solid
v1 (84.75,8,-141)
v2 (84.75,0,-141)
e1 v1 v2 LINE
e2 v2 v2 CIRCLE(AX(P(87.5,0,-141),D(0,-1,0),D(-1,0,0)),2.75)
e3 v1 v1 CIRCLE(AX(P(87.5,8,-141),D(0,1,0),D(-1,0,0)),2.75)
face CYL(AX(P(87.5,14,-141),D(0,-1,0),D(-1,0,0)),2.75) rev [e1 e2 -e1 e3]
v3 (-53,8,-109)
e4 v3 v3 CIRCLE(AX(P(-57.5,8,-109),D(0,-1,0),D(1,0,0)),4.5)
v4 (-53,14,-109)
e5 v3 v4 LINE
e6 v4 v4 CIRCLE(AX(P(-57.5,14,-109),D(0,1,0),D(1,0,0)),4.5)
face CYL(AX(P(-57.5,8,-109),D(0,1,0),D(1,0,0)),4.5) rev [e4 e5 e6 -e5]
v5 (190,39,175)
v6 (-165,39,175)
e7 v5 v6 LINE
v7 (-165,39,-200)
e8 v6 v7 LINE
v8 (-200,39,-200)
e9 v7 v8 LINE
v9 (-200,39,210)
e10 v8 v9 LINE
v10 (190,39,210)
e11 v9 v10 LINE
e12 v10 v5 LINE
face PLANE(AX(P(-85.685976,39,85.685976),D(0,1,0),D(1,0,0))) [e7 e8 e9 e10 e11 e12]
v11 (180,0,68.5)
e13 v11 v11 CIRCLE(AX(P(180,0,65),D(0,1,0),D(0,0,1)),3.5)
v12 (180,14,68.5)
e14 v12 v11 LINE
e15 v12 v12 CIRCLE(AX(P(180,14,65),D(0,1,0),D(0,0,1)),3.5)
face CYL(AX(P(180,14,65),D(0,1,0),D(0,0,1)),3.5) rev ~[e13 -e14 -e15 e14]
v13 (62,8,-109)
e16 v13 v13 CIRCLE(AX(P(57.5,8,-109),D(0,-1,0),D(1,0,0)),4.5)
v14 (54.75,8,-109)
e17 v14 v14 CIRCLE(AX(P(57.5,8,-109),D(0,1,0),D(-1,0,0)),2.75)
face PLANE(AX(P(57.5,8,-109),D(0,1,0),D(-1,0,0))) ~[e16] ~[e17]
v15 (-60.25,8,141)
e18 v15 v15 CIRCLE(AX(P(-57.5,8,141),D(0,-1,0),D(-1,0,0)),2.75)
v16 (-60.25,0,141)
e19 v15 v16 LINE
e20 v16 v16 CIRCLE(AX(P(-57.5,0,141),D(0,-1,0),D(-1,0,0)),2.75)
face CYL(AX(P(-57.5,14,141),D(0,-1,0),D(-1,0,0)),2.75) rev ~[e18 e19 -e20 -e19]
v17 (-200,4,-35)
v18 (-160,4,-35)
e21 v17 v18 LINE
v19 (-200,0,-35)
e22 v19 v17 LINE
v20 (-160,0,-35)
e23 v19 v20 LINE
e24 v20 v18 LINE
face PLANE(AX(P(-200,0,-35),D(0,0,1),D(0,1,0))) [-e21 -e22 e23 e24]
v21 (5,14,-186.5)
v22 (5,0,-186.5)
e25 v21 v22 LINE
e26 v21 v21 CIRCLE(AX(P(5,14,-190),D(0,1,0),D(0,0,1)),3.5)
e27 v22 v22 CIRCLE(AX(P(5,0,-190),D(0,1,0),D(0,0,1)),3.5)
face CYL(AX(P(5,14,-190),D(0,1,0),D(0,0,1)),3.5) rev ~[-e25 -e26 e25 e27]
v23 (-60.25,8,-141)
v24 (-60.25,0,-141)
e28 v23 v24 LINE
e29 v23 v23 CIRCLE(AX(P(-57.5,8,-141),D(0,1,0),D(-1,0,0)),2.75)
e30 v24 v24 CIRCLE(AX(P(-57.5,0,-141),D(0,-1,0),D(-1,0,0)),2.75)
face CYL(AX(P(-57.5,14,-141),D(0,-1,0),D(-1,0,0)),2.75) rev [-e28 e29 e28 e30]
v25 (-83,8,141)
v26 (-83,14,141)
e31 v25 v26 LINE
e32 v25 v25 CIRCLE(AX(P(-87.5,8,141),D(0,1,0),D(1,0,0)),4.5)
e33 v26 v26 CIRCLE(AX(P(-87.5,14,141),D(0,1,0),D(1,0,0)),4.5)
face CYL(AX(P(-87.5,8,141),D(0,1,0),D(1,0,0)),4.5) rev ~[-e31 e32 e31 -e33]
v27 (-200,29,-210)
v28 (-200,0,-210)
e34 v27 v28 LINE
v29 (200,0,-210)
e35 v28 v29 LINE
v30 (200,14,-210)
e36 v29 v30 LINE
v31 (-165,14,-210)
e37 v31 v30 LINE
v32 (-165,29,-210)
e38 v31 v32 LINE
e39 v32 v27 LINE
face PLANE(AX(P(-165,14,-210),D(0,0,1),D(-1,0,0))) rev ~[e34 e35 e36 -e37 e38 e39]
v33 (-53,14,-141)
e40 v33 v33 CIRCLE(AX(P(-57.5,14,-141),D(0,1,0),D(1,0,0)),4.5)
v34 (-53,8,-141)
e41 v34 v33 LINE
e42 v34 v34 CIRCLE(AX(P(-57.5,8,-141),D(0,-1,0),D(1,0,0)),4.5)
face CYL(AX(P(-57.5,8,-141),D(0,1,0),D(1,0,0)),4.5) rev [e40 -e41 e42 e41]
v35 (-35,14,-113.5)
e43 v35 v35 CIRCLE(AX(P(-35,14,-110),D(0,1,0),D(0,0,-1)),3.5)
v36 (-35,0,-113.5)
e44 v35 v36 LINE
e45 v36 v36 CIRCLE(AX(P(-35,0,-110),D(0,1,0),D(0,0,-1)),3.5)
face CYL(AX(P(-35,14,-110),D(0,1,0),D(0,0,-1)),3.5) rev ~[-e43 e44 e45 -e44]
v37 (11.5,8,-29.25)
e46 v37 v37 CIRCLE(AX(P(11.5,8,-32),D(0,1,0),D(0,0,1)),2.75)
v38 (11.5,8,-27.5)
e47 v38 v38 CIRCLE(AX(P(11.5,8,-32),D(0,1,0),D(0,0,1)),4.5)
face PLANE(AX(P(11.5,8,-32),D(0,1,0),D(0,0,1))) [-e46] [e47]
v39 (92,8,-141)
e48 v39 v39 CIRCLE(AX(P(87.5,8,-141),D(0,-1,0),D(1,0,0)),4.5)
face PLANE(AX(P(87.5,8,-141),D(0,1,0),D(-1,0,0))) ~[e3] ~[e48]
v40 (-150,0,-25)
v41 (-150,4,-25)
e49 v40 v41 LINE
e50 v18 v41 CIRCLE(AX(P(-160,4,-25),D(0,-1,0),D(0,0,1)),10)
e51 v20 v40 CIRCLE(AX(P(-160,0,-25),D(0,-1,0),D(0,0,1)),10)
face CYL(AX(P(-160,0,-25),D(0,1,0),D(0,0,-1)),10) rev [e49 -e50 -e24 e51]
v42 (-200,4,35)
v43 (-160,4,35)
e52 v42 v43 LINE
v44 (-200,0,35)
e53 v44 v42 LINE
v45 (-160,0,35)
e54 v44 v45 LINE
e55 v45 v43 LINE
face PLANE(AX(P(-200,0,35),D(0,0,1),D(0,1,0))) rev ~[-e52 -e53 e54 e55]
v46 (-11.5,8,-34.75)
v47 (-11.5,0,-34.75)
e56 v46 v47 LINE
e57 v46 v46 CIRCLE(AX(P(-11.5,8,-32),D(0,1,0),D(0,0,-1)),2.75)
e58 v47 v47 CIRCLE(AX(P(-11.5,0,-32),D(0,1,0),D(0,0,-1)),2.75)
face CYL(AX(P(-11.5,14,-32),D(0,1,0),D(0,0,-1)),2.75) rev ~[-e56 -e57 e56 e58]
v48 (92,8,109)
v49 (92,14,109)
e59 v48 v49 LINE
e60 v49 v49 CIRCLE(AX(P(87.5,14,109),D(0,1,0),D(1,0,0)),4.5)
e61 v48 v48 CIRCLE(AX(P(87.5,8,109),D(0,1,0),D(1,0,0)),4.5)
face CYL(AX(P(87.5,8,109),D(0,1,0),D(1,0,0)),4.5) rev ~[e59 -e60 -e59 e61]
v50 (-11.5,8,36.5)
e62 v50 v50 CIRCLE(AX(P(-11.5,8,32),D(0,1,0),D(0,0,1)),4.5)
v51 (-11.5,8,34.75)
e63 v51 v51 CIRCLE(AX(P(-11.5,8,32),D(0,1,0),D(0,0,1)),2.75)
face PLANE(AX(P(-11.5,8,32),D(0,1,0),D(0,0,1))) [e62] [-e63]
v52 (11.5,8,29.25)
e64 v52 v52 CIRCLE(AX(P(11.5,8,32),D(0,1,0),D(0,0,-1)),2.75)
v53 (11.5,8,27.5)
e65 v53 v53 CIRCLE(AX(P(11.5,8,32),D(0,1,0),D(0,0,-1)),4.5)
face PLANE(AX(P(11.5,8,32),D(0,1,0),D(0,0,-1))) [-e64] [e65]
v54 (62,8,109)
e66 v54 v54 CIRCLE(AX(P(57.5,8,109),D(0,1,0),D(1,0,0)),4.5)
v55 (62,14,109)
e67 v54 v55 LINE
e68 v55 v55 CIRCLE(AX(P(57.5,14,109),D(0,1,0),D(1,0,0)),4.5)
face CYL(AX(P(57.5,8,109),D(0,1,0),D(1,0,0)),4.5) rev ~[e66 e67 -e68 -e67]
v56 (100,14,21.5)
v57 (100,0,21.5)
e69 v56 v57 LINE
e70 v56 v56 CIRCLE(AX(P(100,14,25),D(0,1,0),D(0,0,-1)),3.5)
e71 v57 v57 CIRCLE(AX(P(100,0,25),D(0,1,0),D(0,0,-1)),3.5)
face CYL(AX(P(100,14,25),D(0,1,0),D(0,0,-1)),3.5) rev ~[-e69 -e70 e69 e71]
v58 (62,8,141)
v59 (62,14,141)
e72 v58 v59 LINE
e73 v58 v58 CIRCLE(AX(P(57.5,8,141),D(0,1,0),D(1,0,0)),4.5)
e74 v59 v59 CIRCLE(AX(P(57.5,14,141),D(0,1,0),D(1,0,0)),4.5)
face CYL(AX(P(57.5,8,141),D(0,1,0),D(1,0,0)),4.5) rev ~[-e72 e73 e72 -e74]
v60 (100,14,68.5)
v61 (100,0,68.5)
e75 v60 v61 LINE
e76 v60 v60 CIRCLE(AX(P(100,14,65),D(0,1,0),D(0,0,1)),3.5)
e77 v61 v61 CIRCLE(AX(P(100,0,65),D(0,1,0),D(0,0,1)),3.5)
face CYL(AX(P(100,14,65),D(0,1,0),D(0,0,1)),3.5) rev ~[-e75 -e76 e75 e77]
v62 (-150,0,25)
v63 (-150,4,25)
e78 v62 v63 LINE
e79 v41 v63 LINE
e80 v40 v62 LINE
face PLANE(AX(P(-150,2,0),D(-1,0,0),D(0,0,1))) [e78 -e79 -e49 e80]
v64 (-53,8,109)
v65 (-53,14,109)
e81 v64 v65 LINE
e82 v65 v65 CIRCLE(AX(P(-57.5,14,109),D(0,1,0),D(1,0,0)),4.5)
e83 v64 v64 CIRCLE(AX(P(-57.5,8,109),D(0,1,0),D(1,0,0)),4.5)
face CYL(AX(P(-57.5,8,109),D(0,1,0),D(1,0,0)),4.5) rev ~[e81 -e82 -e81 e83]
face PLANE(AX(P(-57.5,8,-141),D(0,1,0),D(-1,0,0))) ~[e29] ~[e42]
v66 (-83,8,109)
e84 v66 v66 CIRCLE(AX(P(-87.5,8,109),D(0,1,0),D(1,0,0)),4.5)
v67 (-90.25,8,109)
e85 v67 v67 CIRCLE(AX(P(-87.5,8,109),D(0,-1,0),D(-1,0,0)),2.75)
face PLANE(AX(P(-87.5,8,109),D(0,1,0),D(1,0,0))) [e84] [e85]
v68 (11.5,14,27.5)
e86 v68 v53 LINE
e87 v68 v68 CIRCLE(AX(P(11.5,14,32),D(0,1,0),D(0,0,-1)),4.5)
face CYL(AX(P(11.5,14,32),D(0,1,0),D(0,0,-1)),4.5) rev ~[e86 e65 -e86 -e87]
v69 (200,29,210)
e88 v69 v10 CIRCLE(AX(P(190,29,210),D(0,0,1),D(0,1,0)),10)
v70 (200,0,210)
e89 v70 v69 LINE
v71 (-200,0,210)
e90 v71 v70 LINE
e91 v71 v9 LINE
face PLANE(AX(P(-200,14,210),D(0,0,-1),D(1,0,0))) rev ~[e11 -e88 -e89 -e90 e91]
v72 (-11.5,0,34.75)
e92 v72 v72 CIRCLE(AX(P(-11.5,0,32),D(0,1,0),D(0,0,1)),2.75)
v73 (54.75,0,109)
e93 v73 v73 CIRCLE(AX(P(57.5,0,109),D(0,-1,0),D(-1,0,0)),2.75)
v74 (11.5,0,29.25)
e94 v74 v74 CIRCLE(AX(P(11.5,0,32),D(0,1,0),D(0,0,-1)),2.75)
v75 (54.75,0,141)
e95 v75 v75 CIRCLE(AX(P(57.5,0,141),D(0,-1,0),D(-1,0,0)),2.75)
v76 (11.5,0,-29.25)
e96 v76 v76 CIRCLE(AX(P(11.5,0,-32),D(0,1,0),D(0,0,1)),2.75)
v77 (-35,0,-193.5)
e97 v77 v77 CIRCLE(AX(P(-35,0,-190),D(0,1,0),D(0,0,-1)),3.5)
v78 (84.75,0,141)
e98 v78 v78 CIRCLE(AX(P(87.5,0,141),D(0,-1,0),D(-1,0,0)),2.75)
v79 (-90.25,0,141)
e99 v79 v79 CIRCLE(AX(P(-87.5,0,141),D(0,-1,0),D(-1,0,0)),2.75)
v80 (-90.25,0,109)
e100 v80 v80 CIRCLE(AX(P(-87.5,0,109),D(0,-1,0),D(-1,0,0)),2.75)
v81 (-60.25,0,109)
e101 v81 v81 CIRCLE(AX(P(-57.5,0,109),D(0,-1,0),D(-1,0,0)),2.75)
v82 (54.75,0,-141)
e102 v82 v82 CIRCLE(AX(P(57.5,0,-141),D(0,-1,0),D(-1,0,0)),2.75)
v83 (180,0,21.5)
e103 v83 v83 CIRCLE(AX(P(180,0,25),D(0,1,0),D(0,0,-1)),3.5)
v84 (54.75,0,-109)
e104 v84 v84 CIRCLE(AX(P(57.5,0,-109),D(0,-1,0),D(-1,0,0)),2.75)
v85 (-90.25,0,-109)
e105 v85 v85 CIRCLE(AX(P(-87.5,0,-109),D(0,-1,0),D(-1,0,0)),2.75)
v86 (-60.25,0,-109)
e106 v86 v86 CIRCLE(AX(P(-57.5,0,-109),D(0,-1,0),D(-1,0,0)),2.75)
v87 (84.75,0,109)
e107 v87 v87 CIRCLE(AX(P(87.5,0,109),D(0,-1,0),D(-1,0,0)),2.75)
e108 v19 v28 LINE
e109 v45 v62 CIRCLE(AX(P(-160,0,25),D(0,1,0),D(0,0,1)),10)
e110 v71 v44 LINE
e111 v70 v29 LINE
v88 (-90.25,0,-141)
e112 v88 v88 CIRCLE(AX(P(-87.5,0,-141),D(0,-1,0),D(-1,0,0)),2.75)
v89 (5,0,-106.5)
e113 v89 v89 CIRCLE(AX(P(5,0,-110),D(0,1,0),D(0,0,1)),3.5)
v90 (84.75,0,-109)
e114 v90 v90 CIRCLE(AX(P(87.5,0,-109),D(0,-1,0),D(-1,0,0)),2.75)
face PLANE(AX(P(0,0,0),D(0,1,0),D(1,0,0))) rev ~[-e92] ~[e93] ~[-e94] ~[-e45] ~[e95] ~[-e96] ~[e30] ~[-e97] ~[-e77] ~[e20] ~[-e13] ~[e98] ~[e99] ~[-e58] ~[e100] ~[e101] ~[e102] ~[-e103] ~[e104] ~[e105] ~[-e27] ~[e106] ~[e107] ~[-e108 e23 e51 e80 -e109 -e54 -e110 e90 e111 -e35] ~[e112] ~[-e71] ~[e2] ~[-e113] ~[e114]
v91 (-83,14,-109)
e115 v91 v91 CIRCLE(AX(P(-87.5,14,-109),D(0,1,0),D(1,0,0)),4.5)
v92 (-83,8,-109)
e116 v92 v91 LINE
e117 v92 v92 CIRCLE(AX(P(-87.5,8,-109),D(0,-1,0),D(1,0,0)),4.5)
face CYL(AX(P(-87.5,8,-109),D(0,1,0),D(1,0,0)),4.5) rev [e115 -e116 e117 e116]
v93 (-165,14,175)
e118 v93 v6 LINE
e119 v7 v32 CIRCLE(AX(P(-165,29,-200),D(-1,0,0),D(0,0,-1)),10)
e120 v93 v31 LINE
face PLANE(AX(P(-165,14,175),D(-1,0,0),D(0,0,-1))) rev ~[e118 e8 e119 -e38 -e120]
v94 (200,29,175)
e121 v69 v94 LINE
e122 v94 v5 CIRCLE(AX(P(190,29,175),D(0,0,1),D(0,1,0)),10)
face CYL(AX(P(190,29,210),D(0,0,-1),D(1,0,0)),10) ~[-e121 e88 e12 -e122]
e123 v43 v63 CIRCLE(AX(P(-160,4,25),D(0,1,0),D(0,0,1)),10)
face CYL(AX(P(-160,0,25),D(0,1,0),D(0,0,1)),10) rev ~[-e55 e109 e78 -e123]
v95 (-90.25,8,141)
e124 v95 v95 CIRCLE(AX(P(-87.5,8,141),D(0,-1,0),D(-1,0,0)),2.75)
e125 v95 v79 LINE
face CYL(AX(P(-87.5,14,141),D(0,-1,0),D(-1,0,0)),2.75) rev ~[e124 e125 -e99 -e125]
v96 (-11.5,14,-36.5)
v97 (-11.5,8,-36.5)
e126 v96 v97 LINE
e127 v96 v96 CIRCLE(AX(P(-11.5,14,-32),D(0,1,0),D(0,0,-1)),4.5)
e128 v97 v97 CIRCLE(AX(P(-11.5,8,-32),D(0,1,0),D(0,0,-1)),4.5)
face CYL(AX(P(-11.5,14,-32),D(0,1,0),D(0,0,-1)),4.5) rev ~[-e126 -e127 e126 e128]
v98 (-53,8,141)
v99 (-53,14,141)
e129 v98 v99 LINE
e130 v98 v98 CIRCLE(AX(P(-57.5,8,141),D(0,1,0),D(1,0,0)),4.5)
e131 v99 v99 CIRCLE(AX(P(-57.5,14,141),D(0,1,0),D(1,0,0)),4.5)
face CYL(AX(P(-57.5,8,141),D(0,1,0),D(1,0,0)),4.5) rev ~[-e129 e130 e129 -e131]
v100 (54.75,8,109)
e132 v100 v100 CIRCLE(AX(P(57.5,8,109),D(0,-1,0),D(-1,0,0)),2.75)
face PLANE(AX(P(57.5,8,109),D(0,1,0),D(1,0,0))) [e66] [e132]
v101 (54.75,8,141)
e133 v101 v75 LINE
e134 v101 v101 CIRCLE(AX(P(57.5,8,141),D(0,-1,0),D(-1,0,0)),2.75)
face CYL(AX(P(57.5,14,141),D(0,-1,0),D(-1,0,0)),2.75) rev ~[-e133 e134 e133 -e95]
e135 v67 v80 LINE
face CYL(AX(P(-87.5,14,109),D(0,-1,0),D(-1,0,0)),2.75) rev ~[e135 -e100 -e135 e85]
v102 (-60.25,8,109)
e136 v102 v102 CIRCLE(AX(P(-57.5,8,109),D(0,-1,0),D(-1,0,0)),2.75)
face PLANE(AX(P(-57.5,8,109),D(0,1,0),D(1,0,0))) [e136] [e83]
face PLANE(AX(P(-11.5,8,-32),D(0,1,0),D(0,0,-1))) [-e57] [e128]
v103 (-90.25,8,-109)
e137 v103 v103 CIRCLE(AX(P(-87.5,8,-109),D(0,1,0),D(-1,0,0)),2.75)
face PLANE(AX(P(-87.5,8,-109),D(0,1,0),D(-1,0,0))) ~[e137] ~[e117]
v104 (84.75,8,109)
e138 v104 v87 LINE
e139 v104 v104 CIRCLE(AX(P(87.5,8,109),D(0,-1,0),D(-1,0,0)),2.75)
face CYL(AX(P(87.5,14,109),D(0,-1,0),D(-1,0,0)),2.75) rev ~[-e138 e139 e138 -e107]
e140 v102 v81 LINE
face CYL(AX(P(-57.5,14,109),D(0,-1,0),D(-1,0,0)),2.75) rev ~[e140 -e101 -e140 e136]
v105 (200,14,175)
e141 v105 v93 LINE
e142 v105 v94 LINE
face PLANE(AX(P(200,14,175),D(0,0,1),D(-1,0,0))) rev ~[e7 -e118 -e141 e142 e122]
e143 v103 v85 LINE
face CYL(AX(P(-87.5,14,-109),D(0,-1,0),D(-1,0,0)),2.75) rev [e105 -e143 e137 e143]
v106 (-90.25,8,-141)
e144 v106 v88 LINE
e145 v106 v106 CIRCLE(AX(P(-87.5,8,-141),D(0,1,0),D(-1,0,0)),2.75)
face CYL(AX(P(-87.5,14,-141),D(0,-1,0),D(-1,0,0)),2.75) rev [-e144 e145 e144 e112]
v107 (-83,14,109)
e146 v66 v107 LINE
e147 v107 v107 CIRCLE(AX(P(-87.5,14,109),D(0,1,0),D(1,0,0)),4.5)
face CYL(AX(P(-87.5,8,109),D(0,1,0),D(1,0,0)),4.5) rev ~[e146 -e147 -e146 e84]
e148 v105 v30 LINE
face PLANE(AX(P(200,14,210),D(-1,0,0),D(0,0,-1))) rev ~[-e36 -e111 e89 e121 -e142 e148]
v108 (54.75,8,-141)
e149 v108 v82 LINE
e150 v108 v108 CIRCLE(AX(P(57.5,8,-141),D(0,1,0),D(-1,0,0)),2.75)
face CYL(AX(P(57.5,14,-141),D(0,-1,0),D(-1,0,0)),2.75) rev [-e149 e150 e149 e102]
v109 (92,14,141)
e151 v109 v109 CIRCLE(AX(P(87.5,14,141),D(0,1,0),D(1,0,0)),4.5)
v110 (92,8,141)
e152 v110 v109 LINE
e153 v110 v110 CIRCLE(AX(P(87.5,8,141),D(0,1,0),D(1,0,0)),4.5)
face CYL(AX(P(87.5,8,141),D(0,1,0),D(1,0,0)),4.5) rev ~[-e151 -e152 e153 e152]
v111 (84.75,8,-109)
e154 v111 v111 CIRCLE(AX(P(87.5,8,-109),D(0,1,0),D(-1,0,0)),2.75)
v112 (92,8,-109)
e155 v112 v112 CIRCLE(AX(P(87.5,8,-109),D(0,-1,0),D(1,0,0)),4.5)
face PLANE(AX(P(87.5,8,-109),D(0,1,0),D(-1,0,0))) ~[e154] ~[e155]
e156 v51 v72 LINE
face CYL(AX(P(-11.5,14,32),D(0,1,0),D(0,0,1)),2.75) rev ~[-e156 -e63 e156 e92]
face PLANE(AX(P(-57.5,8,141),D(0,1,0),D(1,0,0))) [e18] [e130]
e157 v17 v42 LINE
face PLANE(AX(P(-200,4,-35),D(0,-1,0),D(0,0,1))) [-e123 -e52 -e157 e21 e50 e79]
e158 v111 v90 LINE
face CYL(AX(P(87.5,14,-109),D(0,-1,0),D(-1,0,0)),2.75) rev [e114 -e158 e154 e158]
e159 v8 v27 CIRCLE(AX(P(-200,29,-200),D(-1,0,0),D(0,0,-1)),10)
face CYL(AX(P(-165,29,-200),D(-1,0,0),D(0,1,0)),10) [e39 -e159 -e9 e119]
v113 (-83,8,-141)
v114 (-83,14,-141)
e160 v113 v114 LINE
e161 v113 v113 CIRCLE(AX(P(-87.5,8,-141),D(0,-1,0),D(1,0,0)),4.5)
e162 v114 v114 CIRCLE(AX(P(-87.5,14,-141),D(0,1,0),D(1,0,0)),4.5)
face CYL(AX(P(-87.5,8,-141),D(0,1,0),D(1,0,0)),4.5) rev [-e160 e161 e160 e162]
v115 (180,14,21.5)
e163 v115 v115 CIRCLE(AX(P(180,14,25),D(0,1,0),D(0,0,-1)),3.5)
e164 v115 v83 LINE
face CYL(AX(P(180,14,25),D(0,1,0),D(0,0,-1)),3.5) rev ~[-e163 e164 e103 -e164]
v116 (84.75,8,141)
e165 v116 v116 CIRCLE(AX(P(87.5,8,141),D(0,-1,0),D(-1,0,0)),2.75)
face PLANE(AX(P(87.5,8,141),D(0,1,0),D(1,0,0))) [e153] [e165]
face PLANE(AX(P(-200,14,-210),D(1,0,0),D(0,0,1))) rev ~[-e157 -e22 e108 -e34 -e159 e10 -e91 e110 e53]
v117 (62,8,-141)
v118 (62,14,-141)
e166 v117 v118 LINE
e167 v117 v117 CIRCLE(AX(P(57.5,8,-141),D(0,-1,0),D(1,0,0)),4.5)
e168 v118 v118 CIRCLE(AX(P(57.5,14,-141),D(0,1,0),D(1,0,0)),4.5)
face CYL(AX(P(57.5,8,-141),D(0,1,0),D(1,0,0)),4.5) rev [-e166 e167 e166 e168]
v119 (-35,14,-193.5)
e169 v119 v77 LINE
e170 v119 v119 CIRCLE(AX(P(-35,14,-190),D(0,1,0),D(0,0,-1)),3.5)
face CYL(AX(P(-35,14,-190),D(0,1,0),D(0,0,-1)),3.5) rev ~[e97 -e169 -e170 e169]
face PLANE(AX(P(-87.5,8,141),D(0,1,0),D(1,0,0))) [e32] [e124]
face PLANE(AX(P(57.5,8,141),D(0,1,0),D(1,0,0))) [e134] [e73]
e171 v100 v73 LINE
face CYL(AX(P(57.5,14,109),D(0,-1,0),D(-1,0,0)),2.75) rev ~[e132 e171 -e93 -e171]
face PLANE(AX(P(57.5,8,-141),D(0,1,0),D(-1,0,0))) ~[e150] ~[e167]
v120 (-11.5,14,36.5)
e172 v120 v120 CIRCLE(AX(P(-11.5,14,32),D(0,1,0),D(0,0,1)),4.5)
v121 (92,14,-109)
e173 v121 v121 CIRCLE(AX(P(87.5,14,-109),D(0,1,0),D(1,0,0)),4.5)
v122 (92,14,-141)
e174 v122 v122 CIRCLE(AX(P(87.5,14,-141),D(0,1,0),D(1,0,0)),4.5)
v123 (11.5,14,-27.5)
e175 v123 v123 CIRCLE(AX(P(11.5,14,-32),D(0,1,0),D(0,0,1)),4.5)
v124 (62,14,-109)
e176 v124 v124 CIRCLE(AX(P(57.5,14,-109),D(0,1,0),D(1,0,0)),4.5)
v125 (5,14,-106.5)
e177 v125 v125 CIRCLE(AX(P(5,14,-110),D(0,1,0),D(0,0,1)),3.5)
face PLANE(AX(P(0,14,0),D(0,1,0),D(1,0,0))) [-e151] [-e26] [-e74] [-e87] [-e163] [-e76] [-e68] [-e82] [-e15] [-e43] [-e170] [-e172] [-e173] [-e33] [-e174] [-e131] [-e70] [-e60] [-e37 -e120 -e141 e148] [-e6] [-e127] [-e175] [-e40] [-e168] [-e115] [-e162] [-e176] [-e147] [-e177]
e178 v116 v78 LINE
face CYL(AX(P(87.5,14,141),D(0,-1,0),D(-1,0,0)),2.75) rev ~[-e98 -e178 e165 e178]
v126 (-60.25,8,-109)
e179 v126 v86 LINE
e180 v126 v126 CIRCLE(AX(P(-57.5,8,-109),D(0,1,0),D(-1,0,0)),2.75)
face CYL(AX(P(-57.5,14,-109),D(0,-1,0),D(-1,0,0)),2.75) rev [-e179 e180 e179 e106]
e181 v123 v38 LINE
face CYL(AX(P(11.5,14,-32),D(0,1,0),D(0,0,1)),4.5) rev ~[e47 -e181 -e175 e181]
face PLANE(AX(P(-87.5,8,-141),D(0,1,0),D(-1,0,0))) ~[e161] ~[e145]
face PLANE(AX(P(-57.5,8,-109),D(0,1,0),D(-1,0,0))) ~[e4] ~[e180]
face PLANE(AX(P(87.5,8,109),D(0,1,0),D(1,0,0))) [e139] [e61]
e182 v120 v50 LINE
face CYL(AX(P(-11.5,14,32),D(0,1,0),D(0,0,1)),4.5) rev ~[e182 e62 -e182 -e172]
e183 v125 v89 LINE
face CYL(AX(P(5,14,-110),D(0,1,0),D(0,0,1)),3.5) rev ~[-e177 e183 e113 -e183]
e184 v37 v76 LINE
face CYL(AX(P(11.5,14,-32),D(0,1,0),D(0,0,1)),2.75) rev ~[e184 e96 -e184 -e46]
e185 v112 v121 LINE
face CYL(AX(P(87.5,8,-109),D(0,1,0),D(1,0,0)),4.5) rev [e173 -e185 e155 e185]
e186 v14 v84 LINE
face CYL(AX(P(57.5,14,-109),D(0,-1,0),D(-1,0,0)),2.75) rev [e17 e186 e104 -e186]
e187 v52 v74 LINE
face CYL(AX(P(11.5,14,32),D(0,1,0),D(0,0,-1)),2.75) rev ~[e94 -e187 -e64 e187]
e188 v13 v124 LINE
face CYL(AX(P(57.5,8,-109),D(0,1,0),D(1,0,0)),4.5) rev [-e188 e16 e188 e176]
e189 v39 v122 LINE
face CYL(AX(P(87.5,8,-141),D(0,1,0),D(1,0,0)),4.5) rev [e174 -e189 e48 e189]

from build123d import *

# Parameters (mm, degrees)
SZKIC1_W                                             = 400
SZKIC1_H                                             = 420
DODANIE_WYCI_GNI_CIE1_DEPTH                          = 14
POG_BIENIE_WALCOWE_POD_M5_WKR_T_DO_CZ_CI_D           = 5.5
POG_BIENIE_WALCOWE_POD_M5_WKR_T_DO_CZ_CI_CBORE_D     = 9
POG_BIENIE_WALCOWE_POD_M5_WKR_T_DO_CZ_CI_CBORE_DEPTH = 6
SZKIC10_W                                            = 70
SZKIC10_H                                            = 4
WYTNIJ_WYCI_GNI_CIE1_DEPTH                           = 50
ZAOKR_GLENIE1_R                                      = 10
SKETCH_1_R                                           = 4.5
CUT_EXTRUDE_1_DEPTH                                  = 6
SKETCH_2_R                                           = 2.75
CUT_EXTRUDE_2_DEPTH                                  = 291.337734372
EXTRUDE_2_DEPTH                                      = 25
FILLET_3_R                                           = 10
FILLET_4_R                                           = 10
SKETCH_5_R                                           = 3.5
CUT_EXTRUDE_3_DEPTH                                  = 292.075591557


with BuildPart() as part:
    # Szkic1 → Dodanie-wyciągnięcie1 (new body)
    with BuildSketch(Plane(origin=(0, 0, 0), x_dir=(1, 0, 0), z_dir=(0, 1, 0))):
        Rectangle(SZKIC1_W, SZKIC1_H)
    extrude(amount=DODANIE_WYCI_GNI_CIE1_DEPTH)

    # Pogłębienie walcowe pod M5 Wkręt do części metalowych z łbem sześciokątnym1 (through all)
    with Locations(Plane(origin=(0, 14, 0), x_dir=(1, 0, 0), z_dir=(0, 1, 0))):
        with Locations((-87.5, -141), (-87.5, -109), (-57.5, -141), (-57.5, -109), (57.5, -141), (57.5, -109), (87.5, -109), (87.5, -141)):
            pog_bienie_walcowe_pod_m5_wkr_t_do_cz_ci = CounterBoreHole(POG_BIENIE_WALCOWE_POD_M5_WKR_T_DO_CZ_CI_D / 2, POG_BIENIE_WALCOWE_POD_M5_WKR_T_DO_CZ_CI_CBORE_D / 2, POG_BIENIE_WALCOWE_POD_M5_WKR_T_DO_CZ_CI_CBORE_DEPTH)

    # Lustro3: Pogłębienie walcowe pod M5 Wkręt do części metalowych z łbem sześciokątnym1 across plane
    add(pog_bienie_walcowe_pod_m5_wkr_t_do_cz_ci.mirror(Plane.XY), mode=Mode.SUBTRACT)

    # Szkic10 → Wytnij-wyciągnięcie1 (cut)
    with BuildSketch(Plane.ZY.offset(200)):
        with Locations((0, 2)):
            Rectangle(SZKIC10_W, SZKIC10_H)
    extrude(amount=-WYTNIJ_WYCI_GNI_CIE1_DEPTH, mode=Mode.SUBTRACT)

    # Zaokrąglenie1
    zaokr_glenie1_edges = [part.edges().sort_by_distance(p)[0] for p in [
        (-150, 2, -35),
        (-150, 2, 35),
    ]]
    fillet(zaokr_glenie1_edges, radius=ZAOKR_GLENIE1_R)

    # 草图1 → 切除-拉伸1 (cut)
    with BuildSketch(Plane(origin=(0, 14, 0), x_dir=(1, 0, 0), z_dir=(0, 1, 0))):
        with Locations(Location((11.5, 32, 0), (0, 0, 270))):
            Circle(SKETCH_1_R)
        with Locations(Location((-11.5, 32, 0), (0, 0, 90))):
            Circle(SKETCH_1_R)
        with Locations(Location((-11.5, -32, 0), (0, 0, 270))):
            Circle(SKETCH_1_R)
        with Locations(Location((11.5, -32, 0), (0, 0, 90))):
            Circle(SKETCH_1_R)
    extrude(amount=-CUT_EXTRUDE_1_DEPTH, mode=Mode.SUBTRACT)

    # 草图2 → 切除-拉伸2 (cut, through all)
    with BuildSketch(Plane(origin=(0, 14, 0), x_dir=(1, 0, 0), z_dir=(0, 1, 0))):
        with Locations(Location((11.5, 32, 0), (0, 0, 270))):
            Circle(SKETCH_2_R)
        with Locations(Location((-11.5, 32, 0), (0, 0, 90))):
            Circle(SKETCH_2_R)
        with Locations(Location((-11.5, -32, 0), (0, 0, 270))):
            Circle(SKETCH_2_R)
        with Locations(Location((11.5, -32, 0), (0, 0, 90))):
            Circle(SKETCH_2_R)
    extrude(amount=-CUT_EXTRUDE_2_DEPTH, mode=Mode.SUBTRACT)

    # 草图4 → 凸台-拉伸2 (add)
    with BuildSketch(Plane(origin=(0, 14, 0), x_dir=(1, 0, 0), z_dir=(0, 1, 0))):
        Polygon((-200, 210), (-200, -210), (200, -210), (200, -175), (-165, -175), (-165, 210), align=None)
    extrude(amount=EXTRUDE_2_DEPTH)

    # 圆角3
    fillet_3_edges = [part.edges().sort_by_distance(p)[0] for p in [
        (200, 39, 192.5),
    ]]
    fillet(fillet_3_edges, radius=FILLET_3_R)

    # 圆角4
    fillet_4_edges = [part.edges().sort_by_distance(p)[0] for p in [
        (-182.5, 39, -210),
    ]]
    fillet(fillet_4_edges, radius=FILLET_4_R)

    # 草图5 → 切除-拉伸3 (cut, through all)
    with BuildSketch(Plane(origin=(0, 14, 0), x_dir=(1, 0, 0), z_dir=(0, 1, 0))):
        with Locations(Location((100, -65, 0), (0, 0, 270))):
            Circle(SKETCH_5_R)
        with Locations(Location((180, -65, 0), (0, 0, 270))):
            Circle(SKETCH_5_R)
        with Locations(Location((180, -25, 0), (0, 0, 90))):
            Circle(SKETCH_5_R)
        with Locations(Location((100, -25, 0), (0, 0, 90))):
            Circle(SKETCH_5_R)
        with Locations(Location((5, 110, 0), (0, 0, 270))):
            Circle(SKETCH_5_R)
        with Locations(Location((5, 190, 0), (0, 0, 270))):
            Circle(SKETCH_5_R)
        with Locations(Location((-35, 190, 0), (0, 0, 90))):
            Circle(SKETCH_5_R)
        with Locations(Location((-35, 110, 0), (0, 0, 90))):
            Circle(SKETCH_5_R)
    extrude(amount=-CUT_EXTRUDE_3_DEPTH, mode=Mode.SUBTRACT)


solid = part.part
